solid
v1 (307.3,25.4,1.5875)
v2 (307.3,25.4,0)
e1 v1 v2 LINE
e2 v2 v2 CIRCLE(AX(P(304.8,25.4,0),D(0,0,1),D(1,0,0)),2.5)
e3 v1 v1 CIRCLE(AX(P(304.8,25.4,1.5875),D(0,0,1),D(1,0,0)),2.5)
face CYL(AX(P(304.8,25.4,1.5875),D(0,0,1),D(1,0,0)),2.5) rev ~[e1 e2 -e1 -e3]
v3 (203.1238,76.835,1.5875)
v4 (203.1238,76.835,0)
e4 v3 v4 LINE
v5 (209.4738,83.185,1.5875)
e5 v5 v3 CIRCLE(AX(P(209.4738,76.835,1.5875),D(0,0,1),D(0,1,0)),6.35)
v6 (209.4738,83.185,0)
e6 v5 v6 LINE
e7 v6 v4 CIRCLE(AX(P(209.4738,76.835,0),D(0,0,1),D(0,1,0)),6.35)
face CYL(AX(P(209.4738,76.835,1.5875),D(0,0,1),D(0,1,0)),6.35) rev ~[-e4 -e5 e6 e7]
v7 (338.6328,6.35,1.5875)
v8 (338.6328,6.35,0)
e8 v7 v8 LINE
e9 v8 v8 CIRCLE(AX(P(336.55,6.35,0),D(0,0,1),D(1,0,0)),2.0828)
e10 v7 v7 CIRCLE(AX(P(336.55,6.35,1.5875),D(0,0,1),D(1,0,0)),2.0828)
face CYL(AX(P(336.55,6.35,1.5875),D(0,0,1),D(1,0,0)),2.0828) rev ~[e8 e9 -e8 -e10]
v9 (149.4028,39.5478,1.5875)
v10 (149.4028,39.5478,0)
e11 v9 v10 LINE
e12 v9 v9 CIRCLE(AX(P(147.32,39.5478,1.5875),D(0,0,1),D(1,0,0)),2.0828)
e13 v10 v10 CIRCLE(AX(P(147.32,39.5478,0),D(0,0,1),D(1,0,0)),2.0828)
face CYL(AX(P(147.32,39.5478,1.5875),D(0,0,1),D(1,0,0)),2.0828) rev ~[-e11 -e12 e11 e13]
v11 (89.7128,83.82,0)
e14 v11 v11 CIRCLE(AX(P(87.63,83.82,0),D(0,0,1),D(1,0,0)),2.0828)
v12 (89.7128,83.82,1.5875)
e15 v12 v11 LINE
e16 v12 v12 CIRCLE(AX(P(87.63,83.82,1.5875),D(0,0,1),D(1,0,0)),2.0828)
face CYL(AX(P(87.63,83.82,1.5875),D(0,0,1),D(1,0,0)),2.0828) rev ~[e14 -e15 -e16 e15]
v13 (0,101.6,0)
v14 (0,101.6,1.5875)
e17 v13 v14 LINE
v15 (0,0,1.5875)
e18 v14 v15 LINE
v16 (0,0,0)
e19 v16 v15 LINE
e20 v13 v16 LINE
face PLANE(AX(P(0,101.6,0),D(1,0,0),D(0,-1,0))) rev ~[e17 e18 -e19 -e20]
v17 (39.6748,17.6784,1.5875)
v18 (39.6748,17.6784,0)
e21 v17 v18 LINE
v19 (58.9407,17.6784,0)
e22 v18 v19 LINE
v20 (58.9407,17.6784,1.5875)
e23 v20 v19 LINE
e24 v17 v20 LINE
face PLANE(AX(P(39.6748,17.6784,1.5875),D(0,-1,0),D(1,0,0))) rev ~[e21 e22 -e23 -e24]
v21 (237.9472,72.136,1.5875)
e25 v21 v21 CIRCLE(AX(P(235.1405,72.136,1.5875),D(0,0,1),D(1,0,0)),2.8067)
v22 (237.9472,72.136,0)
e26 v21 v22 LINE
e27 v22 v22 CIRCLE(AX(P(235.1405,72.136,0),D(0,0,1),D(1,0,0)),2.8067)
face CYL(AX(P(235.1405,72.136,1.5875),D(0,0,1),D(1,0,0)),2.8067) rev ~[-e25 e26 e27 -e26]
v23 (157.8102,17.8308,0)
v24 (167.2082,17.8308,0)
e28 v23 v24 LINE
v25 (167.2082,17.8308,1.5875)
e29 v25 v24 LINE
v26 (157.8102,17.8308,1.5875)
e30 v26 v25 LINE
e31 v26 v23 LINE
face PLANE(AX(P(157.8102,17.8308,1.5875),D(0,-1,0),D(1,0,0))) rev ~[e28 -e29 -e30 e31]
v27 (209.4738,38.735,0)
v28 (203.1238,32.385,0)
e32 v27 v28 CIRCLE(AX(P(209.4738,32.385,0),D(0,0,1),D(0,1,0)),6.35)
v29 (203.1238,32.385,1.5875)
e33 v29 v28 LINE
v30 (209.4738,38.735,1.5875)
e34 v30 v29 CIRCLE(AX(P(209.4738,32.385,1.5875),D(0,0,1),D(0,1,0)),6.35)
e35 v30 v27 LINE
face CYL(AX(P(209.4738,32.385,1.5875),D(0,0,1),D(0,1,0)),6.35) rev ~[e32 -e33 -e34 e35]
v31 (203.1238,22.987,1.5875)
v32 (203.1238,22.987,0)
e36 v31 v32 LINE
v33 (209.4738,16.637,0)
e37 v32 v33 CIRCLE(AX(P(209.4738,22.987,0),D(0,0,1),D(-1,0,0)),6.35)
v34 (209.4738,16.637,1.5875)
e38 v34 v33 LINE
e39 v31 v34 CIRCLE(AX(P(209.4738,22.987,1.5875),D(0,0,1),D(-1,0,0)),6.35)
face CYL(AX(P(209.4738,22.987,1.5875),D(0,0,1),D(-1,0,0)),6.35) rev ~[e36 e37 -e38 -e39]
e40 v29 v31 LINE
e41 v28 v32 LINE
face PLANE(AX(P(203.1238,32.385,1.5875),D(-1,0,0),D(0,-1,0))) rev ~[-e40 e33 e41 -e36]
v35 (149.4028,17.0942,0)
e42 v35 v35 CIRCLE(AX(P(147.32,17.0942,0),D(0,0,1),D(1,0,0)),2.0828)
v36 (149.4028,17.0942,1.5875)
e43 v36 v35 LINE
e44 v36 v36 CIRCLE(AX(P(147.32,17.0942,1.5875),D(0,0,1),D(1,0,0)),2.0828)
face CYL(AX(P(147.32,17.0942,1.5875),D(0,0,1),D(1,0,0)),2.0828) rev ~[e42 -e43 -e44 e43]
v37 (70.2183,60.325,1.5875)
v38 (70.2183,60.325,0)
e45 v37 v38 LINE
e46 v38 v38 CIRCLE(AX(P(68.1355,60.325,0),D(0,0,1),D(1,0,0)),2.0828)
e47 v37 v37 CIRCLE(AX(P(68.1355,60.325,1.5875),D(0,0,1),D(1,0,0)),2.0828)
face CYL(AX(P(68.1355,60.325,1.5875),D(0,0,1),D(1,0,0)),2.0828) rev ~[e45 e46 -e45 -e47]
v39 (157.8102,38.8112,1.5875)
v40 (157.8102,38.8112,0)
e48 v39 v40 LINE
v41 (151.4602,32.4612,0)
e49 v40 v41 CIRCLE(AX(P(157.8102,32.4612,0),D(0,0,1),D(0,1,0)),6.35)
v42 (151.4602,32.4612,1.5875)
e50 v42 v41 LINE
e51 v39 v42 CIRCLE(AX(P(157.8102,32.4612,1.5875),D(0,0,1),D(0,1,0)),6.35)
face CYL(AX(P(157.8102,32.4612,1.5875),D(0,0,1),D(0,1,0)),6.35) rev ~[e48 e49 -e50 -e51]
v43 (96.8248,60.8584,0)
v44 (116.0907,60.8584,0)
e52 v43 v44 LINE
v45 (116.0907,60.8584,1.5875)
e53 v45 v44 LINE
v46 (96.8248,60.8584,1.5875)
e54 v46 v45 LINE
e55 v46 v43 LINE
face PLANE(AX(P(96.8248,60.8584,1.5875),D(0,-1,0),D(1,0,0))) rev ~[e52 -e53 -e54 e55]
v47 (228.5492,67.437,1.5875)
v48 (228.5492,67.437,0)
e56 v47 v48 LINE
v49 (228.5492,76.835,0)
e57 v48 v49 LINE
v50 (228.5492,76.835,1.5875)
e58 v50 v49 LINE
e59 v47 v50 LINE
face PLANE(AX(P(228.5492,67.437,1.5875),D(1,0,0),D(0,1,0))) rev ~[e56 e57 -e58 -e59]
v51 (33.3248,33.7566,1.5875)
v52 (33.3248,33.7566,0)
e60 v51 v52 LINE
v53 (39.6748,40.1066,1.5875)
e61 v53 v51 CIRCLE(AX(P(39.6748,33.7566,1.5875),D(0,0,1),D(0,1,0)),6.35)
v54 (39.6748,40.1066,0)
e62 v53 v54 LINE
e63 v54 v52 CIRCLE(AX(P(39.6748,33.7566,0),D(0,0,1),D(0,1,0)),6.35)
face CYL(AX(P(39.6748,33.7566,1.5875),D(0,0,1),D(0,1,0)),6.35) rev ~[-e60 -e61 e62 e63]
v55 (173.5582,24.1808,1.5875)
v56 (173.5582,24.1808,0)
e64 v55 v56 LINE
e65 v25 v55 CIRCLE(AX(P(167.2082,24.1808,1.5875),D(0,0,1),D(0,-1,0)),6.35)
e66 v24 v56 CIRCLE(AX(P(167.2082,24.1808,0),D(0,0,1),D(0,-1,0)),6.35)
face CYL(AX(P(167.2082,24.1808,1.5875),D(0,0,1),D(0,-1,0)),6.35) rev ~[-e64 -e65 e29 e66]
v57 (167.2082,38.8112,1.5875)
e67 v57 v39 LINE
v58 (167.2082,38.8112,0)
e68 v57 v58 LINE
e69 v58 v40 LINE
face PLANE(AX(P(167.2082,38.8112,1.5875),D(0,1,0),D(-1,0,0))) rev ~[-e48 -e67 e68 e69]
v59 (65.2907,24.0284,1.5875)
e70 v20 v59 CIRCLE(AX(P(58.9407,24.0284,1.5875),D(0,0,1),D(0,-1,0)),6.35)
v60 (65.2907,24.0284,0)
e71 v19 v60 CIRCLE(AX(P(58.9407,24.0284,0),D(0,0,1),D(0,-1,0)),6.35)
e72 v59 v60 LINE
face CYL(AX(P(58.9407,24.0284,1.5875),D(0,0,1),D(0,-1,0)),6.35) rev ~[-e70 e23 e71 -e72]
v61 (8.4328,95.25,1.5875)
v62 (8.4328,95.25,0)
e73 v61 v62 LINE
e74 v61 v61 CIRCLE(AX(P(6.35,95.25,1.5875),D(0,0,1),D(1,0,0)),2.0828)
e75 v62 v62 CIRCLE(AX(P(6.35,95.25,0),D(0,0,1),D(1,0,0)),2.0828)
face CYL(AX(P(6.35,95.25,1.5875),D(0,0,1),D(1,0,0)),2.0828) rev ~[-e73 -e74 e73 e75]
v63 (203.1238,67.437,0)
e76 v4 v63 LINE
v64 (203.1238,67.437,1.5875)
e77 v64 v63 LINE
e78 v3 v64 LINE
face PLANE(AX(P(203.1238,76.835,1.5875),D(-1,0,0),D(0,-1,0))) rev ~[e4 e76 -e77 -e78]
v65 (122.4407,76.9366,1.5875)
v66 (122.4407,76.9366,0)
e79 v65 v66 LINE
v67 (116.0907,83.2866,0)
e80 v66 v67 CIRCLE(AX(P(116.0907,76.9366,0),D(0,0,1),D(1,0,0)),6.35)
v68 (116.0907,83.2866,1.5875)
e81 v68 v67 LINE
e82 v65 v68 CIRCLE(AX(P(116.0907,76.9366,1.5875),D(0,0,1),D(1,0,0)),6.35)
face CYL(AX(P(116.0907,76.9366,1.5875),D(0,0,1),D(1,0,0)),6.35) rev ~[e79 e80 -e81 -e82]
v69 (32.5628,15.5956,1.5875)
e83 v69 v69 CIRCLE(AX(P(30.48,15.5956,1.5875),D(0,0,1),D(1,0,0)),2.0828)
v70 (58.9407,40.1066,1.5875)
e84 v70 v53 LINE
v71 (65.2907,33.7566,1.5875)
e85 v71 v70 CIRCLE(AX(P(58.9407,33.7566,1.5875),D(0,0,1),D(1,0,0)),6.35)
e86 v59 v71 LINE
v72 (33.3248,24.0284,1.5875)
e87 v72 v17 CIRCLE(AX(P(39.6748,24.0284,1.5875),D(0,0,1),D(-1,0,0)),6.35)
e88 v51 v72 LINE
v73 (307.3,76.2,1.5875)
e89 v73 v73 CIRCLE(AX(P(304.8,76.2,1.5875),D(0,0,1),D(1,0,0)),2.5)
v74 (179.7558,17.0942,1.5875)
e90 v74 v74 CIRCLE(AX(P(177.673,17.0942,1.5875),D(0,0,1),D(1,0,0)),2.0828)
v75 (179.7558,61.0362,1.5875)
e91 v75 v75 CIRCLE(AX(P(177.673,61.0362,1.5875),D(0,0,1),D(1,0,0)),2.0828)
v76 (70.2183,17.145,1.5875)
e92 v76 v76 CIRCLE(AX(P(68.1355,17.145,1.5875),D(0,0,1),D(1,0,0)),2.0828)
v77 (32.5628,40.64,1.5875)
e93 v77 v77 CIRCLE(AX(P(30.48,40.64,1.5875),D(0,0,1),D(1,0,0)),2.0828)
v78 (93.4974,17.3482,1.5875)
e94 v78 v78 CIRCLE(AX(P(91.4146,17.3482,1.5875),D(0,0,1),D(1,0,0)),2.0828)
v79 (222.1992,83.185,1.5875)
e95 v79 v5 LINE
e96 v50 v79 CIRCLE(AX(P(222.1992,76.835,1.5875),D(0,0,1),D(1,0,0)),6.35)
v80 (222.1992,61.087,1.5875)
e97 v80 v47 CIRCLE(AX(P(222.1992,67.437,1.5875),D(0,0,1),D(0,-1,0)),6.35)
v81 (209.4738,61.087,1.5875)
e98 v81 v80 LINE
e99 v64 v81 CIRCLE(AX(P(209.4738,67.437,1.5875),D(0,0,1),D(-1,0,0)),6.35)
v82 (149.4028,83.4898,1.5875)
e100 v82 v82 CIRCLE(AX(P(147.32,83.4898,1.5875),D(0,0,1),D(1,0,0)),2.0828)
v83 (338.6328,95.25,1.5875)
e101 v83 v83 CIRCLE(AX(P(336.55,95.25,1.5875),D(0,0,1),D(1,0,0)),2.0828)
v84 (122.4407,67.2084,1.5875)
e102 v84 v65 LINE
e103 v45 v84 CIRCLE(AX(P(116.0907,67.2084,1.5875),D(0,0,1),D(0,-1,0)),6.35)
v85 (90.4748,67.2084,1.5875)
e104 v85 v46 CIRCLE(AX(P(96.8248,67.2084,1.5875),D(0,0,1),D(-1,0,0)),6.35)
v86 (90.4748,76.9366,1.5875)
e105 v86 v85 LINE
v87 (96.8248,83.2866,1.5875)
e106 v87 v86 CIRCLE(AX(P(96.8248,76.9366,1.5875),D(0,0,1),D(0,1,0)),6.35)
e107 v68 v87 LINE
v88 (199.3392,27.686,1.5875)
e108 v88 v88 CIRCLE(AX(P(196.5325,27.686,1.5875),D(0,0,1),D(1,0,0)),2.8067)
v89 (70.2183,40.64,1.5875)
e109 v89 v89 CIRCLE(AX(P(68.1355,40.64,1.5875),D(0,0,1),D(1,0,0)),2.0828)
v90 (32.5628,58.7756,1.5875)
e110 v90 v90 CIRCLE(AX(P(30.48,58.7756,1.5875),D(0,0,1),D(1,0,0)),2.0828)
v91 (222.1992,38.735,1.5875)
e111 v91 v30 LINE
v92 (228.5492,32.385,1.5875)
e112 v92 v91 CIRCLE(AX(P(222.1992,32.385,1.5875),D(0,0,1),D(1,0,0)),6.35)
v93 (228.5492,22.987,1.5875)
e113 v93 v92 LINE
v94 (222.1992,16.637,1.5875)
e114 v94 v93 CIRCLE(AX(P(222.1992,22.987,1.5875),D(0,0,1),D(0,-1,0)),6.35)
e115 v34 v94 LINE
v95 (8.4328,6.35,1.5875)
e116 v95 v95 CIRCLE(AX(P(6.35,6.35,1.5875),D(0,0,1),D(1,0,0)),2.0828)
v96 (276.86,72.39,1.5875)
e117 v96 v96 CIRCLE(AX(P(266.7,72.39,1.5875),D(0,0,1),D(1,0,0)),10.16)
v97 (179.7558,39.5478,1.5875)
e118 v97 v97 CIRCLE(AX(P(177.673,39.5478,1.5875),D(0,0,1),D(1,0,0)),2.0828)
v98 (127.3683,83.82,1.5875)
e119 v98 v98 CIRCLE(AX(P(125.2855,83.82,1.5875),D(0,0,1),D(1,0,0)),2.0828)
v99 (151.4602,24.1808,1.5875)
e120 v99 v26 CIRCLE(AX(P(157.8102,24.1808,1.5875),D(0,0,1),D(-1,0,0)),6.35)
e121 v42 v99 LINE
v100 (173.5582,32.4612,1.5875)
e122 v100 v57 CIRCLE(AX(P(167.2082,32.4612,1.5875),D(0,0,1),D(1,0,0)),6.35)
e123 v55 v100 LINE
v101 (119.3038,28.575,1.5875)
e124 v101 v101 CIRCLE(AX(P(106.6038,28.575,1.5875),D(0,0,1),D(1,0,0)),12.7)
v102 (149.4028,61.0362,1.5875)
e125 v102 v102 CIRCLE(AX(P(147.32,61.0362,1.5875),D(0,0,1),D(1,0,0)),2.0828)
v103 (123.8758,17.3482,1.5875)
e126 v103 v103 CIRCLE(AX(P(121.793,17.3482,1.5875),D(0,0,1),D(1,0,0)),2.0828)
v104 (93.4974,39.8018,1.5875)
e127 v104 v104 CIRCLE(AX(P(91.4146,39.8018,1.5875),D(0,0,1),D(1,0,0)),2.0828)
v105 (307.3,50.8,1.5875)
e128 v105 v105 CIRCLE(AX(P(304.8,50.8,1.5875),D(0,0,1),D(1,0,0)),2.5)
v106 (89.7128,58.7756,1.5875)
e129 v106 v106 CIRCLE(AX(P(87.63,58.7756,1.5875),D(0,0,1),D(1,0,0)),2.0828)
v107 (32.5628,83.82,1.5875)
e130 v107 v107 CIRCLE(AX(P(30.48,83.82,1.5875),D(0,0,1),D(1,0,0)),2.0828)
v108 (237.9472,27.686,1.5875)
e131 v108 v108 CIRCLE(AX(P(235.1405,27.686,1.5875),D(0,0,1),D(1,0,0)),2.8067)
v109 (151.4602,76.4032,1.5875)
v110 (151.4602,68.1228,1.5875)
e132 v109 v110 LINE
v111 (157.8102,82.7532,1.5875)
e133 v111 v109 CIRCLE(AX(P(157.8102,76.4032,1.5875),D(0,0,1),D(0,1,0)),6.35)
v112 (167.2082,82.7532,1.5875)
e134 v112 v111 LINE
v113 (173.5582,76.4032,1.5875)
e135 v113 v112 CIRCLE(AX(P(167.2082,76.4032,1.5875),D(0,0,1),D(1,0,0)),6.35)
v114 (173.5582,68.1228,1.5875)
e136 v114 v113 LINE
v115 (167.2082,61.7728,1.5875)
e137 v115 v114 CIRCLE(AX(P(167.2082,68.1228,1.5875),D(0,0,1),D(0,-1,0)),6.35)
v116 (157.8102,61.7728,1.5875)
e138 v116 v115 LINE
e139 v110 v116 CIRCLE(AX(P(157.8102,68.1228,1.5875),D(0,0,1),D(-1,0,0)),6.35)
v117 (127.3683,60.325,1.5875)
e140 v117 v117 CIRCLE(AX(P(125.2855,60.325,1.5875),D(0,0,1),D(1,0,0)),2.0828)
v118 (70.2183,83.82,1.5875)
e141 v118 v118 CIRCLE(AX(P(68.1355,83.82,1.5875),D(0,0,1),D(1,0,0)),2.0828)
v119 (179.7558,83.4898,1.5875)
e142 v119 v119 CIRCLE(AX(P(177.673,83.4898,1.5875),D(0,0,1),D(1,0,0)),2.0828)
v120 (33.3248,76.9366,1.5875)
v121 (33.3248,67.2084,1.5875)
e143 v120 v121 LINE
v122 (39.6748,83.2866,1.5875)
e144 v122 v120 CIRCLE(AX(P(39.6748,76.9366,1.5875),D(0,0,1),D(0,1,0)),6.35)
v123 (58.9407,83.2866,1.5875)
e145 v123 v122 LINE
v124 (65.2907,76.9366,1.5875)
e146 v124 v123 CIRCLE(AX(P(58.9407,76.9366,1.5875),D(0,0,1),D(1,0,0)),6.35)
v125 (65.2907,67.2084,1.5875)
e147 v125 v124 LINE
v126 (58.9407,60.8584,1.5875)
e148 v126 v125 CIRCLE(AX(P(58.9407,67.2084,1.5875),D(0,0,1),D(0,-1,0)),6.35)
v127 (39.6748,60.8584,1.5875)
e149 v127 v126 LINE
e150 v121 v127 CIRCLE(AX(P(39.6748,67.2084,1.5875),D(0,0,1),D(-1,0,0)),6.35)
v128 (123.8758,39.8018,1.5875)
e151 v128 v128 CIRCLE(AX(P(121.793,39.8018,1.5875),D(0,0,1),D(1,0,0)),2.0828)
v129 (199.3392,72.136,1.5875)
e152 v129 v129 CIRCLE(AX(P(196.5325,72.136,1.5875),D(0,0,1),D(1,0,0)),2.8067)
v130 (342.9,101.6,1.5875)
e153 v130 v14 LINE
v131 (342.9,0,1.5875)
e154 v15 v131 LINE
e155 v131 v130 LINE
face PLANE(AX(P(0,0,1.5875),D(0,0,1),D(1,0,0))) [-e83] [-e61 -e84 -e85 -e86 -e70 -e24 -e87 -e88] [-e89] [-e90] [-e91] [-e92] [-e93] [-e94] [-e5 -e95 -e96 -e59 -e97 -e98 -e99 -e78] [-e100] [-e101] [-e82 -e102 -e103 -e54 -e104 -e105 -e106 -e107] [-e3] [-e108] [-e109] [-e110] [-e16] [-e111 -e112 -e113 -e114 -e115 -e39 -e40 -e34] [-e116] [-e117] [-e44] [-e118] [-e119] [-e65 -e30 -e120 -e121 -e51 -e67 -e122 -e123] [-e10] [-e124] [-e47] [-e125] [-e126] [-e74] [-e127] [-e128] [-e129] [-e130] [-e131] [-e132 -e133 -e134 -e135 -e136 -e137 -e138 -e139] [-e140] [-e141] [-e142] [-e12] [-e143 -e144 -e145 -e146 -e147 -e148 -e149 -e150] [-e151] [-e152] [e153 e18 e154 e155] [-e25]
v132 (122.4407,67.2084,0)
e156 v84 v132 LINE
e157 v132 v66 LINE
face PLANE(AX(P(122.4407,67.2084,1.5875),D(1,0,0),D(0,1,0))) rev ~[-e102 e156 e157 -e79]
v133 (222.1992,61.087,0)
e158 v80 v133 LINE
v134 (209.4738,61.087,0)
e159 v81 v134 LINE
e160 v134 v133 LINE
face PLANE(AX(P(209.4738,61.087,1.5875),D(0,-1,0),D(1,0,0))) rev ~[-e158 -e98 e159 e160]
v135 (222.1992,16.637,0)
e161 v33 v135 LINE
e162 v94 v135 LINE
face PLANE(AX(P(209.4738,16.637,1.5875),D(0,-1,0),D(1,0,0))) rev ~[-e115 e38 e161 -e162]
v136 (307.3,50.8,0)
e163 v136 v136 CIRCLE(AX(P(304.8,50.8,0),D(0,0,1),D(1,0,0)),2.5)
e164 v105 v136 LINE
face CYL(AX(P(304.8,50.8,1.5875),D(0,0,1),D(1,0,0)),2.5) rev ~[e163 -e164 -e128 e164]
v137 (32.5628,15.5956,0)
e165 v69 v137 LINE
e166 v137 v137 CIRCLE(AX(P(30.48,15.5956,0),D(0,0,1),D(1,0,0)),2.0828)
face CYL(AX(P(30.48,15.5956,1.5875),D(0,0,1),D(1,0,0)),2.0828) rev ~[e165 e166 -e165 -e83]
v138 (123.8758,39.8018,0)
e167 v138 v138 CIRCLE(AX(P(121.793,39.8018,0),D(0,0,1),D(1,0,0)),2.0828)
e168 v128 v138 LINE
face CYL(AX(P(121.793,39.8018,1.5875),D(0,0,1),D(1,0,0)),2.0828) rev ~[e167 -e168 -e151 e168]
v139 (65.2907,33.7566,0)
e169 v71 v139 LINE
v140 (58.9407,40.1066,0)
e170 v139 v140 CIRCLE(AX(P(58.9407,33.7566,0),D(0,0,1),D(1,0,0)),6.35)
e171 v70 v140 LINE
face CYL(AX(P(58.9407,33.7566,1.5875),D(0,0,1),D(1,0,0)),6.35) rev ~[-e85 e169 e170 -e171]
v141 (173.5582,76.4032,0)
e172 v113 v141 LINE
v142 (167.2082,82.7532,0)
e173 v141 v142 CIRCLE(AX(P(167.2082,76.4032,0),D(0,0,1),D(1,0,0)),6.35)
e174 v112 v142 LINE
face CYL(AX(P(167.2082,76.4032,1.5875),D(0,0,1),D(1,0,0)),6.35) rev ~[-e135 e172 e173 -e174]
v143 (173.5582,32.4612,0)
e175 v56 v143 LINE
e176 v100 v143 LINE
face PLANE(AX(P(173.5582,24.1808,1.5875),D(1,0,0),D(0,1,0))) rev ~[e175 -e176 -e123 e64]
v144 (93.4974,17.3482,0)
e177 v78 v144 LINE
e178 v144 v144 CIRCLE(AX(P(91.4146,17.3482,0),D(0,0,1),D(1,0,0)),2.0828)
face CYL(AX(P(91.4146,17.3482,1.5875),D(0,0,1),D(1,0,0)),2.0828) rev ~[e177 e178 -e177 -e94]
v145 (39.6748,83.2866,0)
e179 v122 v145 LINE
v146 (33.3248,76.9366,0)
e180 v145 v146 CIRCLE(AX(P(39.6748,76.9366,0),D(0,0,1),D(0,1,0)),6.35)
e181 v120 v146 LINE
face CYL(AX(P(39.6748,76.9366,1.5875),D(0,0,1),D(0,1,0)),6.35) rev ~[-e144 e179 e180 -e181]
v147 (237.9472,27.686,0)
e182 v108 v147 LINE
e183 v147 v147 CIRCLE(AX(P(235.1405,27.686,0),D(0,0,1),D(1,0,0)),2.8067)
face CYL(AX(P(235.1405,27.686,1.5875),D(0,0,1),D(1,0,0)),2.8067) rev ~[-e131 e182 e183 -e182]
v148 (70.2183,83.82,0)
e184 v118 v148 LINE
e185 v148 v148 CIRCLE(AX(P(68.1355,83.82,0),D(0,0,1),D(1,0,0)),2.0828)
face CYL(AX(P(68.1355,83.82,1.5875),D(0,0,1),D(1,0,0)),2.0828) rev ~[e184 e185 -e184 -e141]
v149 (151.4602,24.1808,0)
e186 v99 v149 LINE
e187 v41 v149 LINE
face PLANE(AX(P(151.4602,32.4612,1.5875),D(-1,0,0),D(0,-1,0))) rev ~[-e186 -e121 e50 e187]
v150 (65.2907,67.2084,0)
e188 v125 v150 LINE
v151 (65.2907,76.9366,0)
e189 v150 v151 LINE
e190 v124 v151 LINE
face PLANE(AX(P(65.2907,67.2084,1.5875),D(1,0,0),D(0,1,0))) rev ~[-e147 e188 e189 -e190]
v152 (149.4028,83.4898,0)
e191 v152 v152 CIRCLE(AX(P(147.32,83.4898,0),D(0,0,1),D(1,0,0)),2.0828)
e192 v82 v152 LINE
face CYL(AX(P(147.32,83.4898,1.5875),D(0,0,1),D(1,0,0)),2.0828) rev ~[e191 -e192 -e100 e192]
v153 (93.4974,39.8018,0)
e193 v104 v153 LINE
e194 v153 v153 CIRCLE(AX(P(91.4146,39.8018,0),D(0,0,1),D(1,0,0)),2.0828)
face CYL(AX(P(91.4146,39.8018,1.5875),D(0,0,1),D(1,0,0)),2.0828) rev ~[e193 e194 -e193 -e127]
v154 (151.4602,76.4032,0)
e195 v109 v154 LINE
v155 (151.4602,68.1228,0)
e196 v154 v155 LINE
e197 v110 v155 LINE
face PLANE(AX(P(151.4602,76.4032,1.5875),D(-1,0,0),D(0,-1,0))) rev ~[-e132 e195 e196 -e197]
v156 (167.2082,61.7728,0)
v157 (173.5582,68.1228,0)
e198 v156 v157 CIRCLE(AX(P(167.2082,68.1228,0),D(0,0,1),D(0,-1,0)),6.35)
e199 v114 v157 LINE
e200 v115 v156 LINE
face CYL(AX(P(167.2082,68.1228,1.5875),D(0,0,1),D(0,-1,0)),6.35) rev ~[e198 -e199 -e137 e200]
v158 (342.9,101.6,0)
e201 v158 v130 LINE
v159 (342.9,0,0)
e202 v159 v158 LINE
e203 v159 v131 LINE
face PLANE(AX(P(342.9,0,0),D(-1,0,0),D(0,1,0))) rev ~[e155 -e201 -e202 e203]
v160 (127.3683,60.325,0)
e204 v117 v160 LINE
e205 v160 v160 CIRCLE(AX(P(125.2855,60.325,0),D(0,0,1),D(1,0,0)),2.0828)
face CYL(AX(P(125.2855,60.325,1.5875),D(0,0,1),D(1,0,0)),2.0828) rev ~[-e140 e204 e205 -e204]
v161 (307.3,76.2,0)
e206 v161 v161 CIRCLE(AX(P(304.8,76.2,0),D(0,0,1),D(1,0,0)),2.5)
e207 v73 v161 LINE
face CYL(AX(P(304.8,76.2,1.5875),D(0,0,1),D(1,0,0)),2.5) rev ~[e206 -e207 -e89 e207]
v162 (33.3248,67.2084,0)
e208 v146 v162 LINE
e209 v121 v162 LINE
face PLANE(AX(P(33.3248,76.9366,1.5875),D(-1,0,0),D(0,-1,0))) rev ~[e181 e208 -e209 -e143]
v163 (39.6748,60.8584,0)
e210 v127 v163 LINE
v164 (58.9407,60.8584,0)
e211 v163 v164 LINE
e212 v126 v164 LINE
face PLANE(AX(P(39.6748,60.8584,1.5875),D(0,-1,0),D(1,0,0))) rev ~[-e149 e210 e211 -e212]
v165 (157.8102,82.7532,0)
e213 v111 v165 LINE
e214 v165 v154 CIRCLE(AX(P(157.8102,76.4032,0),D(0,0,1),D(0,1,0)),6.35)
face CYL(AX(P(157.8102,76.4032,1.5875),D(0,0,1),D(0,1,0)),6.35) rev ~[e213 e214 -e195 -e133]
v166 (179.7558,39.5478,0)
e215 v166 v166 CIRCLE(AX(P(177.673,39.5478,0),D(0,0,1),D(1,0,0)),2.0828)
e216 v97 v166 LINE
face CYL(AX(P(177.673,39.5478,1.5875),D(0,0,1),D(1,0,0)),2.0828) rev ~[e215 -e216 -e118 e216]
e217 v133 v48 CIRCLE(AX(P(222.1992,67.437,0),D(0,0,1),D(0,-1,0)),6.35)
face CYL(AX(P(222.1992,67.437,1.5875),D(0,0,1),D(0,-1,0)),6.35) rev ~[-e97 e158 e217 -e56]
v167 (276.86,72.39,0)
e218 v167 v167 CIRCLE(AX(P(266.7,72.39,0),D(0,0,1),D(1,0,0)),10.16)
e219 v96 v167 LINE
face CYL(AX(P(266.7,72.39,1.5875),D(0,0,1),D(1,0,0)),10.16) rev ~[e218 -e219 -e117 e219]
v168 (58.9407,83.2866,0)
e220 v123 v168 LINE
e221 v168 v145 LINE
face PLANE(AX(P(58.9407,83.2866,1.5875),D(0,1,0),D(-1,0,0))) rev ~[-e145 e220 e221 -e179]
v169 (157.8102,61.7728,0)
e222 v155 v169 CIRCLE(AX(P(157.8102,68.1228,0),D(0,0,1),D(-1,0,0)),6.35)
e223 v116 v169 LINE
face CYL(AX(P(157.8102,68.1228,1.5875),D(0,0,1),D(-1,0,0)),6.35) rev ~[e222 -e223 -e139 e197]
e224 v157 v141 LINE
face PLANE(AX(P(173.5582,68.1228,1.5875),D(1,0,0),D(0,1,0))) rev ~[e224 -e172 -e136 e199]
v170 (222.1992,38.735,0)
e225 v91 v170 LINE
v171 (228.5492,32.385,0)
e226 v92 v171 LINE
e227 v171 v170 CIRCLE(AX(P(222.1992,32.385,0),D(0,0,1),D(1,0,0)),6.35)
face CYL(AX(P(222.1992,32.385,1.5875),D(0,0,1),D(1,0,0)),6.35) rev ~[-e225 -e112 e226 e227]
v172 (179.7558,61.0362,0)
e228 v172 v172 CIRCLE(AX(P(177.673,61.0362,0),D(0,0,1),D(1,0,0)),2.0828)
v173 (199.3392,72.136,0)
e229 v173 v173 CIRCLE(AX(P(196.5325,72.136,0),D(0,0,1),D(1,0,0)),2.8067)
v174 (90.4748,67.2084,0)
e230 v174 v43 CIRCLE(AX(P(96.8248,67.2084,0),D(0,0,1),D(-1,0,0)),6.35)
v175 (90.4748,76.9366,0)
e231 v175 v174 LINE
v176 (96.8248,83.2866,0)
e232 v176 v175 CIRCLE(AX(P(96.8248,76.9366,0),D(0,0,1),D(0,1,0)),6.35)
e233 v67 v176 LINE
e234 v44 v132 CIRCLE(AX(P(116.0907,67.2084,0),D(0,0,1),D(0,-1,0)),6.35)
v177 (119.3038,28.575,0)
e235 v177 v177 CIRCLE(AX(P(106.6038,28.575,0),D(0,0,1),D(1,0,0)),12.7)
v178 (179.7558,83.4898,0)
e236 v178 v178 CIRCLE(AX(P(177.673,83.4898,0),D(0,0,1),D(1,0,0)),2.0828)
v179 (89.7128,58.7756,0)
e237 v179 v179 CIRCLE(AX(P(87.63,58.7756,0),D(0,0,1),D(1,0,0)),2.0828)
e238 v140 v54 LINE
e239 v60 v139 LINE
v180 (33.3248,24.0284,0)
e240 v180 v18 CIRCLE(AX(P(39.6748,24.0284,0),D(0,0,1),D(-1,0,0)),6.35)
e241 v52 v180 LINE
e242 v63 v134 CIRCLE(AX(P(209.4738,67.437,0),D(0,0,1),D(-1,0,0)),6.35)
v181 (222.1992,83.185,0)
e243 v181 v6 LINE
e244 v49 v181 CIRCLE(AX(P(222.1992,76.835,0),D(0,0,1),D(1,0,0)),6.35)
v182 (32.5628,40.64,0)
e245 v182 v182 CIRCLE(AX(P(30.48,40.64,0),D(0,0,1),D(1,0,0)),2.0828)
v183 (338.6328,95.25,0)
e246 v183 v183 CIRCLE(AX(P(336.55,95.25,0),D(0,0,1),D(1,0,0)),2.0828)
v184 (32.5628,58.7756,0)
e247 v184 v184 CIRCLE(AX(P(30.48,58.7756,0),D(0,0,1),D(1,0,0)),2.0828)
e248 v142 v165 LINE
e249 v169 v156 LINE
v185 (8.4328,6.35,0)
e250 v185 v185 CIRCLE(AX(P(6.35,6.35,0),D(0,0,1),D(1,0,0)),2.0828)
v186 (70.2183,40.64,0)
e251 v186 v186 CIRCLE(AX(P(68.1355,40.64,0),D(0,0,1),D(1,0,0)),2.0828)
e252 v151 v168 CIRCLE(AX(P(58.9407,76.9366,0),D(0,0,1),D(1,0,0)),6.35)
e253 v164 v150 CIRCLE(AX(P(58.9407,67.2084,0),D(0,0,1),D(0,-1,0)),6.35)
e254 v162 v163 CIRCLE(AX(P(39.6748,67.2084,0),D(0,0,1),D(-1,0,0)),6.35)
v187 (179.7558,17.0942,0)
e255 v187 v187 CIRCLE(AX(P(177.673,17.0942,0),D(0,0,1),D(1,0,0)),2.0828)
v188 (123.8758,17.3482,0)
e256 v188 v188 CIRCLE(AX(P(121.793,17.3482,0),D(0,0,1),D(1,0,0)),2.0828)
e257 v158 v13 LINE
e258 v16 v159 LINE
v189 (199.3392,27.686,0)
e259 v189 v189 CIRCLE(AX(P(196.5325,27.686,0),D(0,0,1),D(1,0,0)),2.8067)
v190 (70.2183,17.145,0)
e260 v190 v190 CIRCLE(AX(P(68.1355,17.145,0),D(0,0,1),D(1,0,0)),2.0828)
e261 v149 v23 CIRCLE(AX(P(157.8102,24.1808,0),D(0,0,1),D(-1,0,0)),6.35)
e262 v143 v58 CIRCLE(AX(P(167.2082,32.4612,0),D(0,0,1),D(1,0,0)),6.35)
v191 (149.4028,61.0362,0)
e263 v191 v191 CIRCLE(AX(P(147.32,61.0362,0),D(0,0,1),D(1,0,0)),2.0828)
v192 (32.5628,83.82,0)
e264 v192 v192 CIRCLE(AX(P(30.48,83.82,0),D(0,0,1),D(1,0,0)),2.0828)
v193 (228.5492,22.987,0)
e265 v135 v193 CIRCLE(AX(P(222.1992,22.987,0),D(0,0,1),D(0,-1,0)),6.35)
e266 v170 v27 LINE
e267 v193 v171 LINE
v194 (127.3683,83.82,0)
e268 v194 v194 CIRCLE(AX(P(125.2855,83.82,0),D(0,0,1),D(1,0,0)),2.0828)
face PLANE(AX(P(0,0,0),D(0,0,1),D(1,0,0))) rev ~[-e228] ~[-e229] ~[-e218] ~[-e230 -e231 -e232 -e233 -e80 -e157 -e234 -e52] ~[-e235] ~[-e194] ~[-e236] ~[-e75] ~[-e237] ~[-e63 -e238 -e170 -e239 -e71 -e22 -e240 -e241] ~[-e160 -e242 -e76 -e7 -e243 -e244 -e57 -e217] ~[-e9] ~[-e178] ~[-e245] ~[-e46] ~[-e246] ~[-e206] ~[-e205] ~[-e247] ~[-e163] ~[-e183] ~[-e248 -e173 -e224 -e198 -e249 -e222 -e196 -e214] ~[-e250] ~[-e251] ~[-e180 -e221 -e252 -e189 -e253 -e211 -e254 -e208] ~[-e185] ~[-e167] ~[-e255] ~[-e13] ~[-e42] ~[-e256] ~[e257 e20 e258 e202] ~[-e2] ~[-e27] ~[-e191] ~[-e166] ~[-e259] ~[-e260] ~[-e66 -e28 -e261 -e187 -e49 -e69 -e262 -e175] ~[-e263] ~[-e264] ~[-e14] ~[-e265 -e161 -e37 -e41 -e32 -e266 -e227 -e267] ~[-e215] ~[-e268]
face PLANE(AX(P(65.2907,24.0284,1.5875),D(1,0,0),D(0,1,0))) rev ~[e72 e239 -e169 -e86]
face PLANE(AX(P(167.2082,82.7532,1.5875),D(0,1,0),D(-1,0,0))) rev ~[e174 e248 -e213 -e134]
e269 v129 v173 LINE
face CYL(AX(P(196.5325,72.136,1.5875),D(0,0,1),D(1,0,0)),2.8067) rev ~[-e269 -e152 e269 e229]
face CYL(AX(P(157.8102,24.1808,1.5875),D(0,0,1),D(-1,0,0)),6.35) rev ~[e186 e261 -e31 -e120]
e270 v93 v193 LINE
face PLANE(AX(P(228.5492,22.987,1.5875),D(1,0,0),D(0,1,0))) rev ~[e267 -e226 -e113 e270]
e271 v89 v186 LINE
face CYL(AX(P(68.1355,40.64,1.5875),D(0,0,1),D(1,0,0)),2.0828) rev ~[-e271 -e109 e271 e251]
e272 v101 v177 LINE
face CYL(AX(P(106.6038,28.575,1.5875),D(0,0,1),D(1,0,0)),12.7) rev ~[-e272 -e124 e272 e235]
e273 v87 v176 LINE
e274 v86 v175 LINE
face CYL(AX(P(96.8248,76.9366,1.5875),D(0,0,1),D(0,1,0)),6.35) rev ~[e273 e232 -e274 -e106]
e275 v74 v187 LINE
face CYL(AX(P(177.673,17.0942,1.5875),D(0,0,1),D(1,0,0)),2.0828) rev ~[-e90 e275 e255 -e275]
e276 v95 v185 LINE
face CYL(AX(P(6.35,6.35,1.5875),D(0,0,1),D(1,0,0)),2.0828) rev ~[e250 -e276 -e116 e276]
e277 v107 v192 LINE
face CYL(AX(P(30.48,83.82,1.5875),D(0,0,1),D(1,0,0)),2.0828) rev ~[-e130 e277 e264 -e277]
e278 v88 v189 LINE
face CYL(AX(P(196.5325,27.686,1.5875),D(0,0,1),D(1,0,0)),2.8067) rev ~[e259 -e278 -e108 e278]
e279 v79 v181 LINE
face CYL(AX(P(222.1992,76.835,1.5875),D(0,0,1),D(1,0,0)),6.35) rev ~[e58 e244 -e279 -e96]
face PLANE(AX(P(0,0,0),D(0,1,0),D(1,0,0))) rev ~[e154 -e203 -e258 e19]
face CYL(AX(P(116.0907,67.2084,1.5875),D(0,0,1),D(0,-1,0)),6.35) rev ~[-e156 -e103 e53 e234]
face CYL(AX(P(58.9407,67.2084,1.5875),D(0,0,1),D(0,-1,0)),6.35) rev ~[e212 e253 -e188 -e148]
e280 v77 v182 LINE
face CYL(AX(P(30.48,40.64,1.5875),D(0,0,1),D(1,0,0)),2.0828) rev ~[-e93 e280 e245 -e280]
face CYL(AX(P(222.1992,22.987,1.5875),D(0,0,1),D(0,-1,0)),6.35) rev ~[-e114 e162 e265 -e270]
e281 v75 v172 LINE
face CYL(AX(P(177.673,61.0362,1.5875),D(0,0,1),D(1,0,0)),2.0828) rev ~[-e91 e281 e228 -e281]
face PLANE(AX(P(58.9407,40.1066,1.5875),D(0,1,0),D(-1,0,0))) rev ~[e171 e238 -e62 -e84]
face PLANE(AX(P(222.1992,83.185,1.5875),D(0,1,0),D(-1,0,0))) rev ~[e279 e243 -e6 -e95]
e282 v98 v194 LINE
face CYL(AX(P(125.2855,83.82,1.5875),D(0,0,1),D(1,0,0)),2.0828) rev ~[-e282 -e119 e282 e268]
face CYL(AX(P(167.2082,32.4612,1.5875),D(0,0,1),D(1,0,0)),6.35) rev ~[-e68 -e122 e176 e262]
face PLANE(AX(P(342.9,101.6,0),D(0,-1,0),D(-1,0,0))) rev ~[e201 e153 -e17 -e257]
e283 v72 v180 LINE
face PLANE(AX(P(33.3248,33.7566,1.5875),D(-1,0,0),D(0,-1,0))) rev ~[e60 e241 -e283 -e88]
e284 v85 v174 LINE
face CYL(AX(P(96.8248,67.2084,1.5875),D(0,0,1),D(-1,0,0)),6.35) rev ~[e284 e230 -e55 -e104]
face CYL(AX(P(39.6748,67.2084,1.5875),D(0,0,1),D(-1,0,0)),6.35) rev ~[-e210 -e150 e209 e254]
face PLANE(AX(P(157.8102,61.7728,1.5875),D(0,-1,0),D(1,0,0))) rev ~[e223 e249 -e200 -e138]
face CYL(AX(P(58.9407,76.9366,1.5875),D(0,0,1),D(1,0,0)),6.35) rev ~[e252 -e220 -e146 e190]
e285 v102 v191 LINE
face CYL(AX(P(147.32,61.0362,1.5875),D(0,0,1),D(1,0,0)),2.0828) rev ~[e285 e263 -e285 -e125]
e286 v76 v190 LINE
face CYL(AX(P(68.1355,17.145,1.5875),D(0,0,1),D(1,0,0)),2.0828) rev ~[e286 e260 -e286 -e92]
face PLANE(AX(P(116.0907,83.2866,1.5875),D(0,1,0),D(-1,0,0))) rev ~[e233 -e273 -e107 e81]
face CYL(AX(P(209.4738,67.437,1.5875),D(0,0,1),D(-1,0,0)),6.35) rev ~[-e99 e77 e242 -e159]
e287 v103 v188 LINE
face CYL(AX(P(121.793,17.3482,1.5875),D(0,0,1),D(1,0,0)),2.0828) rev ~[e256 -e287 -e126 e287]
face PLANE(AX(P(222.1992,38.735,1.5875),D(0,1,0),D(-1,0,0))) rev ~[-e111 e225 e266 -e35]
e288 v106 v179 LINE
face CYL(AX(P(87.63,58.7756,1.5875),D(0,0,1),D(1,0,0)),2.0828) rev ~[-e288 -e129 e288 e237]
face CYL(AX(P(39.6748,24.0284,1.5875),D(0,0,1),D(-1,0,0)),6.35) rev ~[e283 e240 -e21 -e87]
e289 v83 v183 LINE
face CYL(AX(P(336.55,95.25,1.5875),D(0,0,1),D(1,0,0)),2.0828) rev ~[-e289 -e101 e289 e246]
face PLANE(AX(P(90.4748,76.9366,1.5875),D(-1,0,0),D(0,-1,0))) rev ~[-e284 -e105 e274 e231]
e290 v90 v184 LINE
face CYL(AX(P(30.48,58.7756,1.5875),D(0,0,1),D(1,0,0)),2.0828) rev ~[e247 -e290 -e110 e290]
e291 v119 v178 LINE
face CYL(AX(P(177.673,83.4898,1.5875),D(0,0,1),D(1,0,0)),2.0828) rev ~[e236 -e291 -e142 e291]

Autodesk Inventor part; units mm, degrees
ref_plane "YZ Plane" through (0, 0, 0) normal (1, 0, 0) x (0, 1, 0)
ref_plane "XZ Plane" through (0, 0, 0) normal (0, 1, 0) x (-1, 0, 0)
ref_plane "XY Plane" through (0, 0, 0) normal (0, 0, 1) x (1, 0, 0)
sketch "Sketch1" plane through (0, 0, 0) normal (0, 0, 1) x (1, 0, 0)
  line L0 (0, 0) -> (342.9, 0)
  line L1 (342.9, 0) -> (342.9, 101.6)
  line L2 (342.9, 101.6) -> (0, 101.6)
  line L3 (0, 101.6) -> (0, 0)
  dimension "d0" = 101.6
  dimension "d1" = 342.9
extrude "Extrusion1" add sketch "Sketch1" along normal blind 1.5875
sketch "Sketch2" plane through (0, 0, 1.5875) normal (0, 0, 1) x (1, 0, 0)
  line L0 (25.4, 55.245) -> (73.2155, 55.245)
  line L1 (73.2155, 55.245) -> (73.2155, 88.9)
  line L2 (73.2155, 88.9) -> (25.4, 88.9)
  line L3 (25.4, 88.9) -> (25.4, 55.245)
  line L4 (39.6748, 60.8584) -> (58.9407, 60.8584)
  line L5 (65.2907, 67.2084) -> (65.2907, 76.9366)
  line L6 (58.9407, 83.2866) -> (39.6748, 83.2866)
  line L7 (33.3248, 76.9366) -> (33.3248, 67.2084)
  line L8 (0, 101.6) -> (0, 0) projected
  line L9 (342.9, 101.6) -> (0, 101.6) projected
  circle A0 centre (30.48, 83.82) radius 2.0828
  circle A1 centre (68.1355, 83.82) radius 2.0828
  circle A2 centre (68.1355, 60.325) radius 2.0828
  circle A3 centre (30.48, 58.7756) radius 2.0828
  arc A4 (39.6748, 83.2866) -> (33.3248, 76.9366) centre (39.6748, 76.9366) ccw
  arc A5 (33.3248, 67.2084) -> (39.6748, 60.8584) centre (39.6748, 67.2084) ccw
  arc A6 (58.9407, 60.8584) -> (65.2907, 67.2084) centre (58.9407, 67.2084) ccw
  arc A7 (65.2907, 76.9366) -> (58.9407, 83.2866) centre (58.9407, 76.9366) ccw
  point P0 (33.3248, 60.8584)
  point P1 (65.2907, 60.8584)
  point P2 (33.3248, 83.2866)
  dimension "d4" = 33.655
  dimension "d5" = 47.8155
  dimension "d6" = 22.4282
  dimension "d7" = 31.9659
  dimension "d8" = 7.9248
  dimension "d9" = 5.6134
  dimension "d10" = 25.4
  dimension "d11" = 12.7
  dimension "d12" = 4.1656
  dimension "d13" = 5.08
  dimension "d14" = 5.08
  dimension "d15" = 5.08
  dimension "d16" = 5.08
  dimension "d17" = 5.08
  dimension "d18" = 5.08
  dimension "d19" = 5.08
  dimension "d20" = 6.35
extrude "Extrusion2" cut sketch "Sketch2" against normal through all contours A5 L7 A4 L6 A7 L5 A6 L4 | A0 | A1 | A2 | A3
pattern_linear "Rectangular Pattern2" count 2 spacing 43.18 along (0, -1, 0) of "Extrusion2"
pattern_linear "Rectangular Pattern3" count 2 spacing 57.15 along (1, 0, 0) of "Extrusion2"
sketch "Sketch3" plane through (0, 0, 1.5875) normal (0, 0, 1) x (1, 0, 0)
  line L0 (0, 101.6) -> (0, 0) construction
  line L1 (342.9, 0) -> (342.9, 101.6) construction
  line L2 (342.9, 101.6) -> (0, 101.6) construction
  line L3 (44.45, 95.3581) -> (52.0207, 95.3581) construction
  line L4 (52.0207, 95.3581) -> (52.0207, 88.9) construction
  line L5 (52.0207, 88.9) -> (44.45, 88.9) construction
  line L6 (44.45, 88.9) -> (44.45, 95.3581) construction
  line L7 (101.6, 95.4713) -> (111.4069, 95.4713) construction
  line L8 (111.4069, 95.4713) -> (111.4069, 88.9) construction
  line L9 (111.4069, 88.9) -> (101.6, 88.9) construction
  line L10 (101.6, 88.9) -> (101.6, 95.4713) construction
  line L11 (44.45, 51.0091) -> (52.8287, 51.0091) construction
  line L12 (52.8287, 51.0091) -> (52.8287, 44.3915) construction
  line L13 (52.8287, 44.3915) -> (44.45, 44.3915) construction
  line L14 (44.45, 44.3915) -> (44.45, 51.0091) construction
  line L15 (101.6, 50.829) -> (109.3588, 50.829) construction
  line L16 (109.3588, 50.829) -> (109.3588, 44.3915) construction
  line L17 (109.3588, 44.3915) -> (101.6, 44.3915) construction
  line L18 (101.6, 44.3915) -> (101.6, 50.829) construction
  line L19 (158.75, 95.5021) -> (171.9813, 95.5021) construction
  line L20 (171.9813, 95.5021) -> (171.9813, 88.9) construction
  line L21 (171.9813, 88.9) -> (158.75, 88.9) construction
  line L22 (158.75, 88.9) -> (158.75, 95.5021) construction
  line L23 (158.75, 50.9937) -> (175.5906, 50.9937) construction
  line L24 (175.5906, 50.9937) -> (175.5906, 44.3915) construction
  line L25 (175.5906, 44.3915) -> (158.75, 44.3915) construction
  line L26 (158.75, 44.3915) -> (158.75, 50.9937) construction
  line L27 (212.09, 95.3375) -> (223.1557, 95.3375) construction
  line L28 (223.1557, 95.3375) -> (223.1557, 88.9) construction
  line L29 (223.1557, 88.9) -> (212.09, 88.9) construction
  line L30 (212.09, 88.9) -> (212.09, 95.3375) construction
  line L31 (212.09, 51.0297) -> (221.933, 51.0297) construction
  line L32 (221.933, 51.0297) -> (221.933, 44.3915) construction
  line L33 (221.933, 44.3915) -> (212.09, 44.3915) construction
  line L34 (212.09, 44.3915) -> (212.09, 51.0297) construction
sketch "Sketch4" plane through (0, 0, 1.5875) normal (0, 0, 1) x (1, 0, 0)
  line L0 (86.36, 12.7) -> (126.873, 12.7)
  line L1 (126.873, 12.7) -> (126.873, 44.45)
  line L2 (126.873, 44.45) -> (86.36, 44.45)
  line L3 (86.36, 44.45) -> (86.36, 12.7)
  circle A0 centre (91.4146, 39.8018) radius 2.0828
  circle A1 centre (121.793, 39.8018) radius 2.0828
  circle A2 centre (121.793, 17.3482) radius 2.0828
  circle A3 centre (91.4146, 17.3482) radius 2.0828
  circle A4 centre (106.6038, 28.575) radius 12.7
  circle A5 centre (87.63, 58.7756) radius 2.0828 projected
  circle A6 centre (125.2855, 83.82) radius 2.0828 projected
  circle A7 centre (87.63, 83.82) radius 2.0828 projected
  circle A8 centre (125.2855, 60.325) radius 2.0828 projected
  arc A9 (90.4748, 67.2084) -> (96.8248, 60.8584) centre (96.8248, 67.2084) ccw projected
  line L4 (90.4748, 67.2084) -> (90.4748, 76.9366) projected
  arc A10 (96.8248, 83.2866) -> (90.4748, 76.9366) centre (96.8248, 76.9366) ccw projected
  line L5 (96.8248, 83.2866) -> (116.0907, 83.2866) projected
  arc A11 (122.4407, 76.9366) -> (116.0907, 83.2866) centre (116.0907, 76.9366) ccw projected
  line L6 (122.4407, 76.9366) -> (122.4407, 67.2084) projected
  arc A12 (116.0907, 60.8584) -> (122.4407, 67.2084) centre (116.0907, 67.2084) ccw projected
  line L7 (116.0907, 60.8584) -> (96.8248, 60.8584) projected
  circle A13 centre (30.48, 15.5956) radius 2.0828 projected
  circle A14 centre (68.1355, 40.64) radius 2.0828 projected
  circle A15 centre (30.48, 40.64) radius 2.0828 projected
  circle A16 centre (68.1355, 17.145) radius 2.0828 projected
  arc A17 (33.3248, 24.0284) -> (39.6748, 17.6784) centre (39.6748, 24.0284) ccw projected
  line L8 (33.3248, 24.0284) -> (33.3248, 33.7566) projected
  arc A18 (39.6748, 40.1066) -> (33.3248, 33.7566) centre (39.6748, 33.7566) ccw projected
  line L9 (39.6748, 40.1066) -> (58.9407, 40.1066) projected
  arc A19 (65.2907, 33.7566) -> (58.9407, 40.1066) centre (58.9407, 33.7566) ccw projected
  line L10 (65.2907, 33.7566) -> (65.2907, 24.0284) projected
  arc A20 (58.9407, 17.6784) -> (65.2907, 24.0284) centre (58.9407, 24.0284) ccw projected
  line L11 (58.9407, 17.6784) -> (39.6748, 17.6784) projected
  circle A21 centre (30.48, 58.7756) radius 2.0828 projected
  circle A22 centre (68.1355, 83.82) radius 2.0828 projected
  circle A23 centre (30.48, 83.82) radius 2.0828 projected
  circle A24 centre (68.1355, 60.325) radius 2.0828 projected
  arc A25 (33.3248, 67.2084) -> (39.6748, 60.8584) centre (39.6748, 67.2084) ccw projected
  line L12 (33.3248, 67.2084) -> (33.3248, 76.9366) projected
  arc A26 (39.6748, 83.2866) -> (33.3248, 76.9366) centre (39.6748, 76.9366) ccw projected
  line L13 (39.6748, 83.2866) -> (58.9407, 83.2866) projected
  arc A27 (65.2907, 76.9366) -> (58.9407, 83.2866) centre (58.9407, 76.9366) ccw projected
  line L14 (65.2907, 76.9366) -> (65.2907, 67.2084) projected
  arc A28 (58.9407, 60.8584) -> (65.2907, 67.2084) centre (58.9407, 67.2084) ccw projected
  line L15 (58.9407, 60.8584) -> (39.6748, 60.8584) projected
  line L16 (0, 0) -> (342.9, 0) projected
  line L17 (342.9, 0) -> (342.9, 101.6) projected
  line L18 (342.9, 101.6) -> (0, 101.6) projected
  line L19 (0, 101.6) -> (0, 0) projected
  dimension "d53" = 40.513
  dimension "d54" = 31.75
  dimension "d55" = 4.1656
  dimension "d56" = 25.4
  dimension "d57" = 15.875
  dimension "d58" = 15.1892
  dimension "d59" = 15.1892
  dimension "d60" = 15.1892
  dimension "d61" = 15.1892
  dimension "d66" = 11.2268
  dimension "d67" = 11.2268
  dimension "d68" = 11.2268
  dimension "d69" = 11.2268
  dimension "d70" = 5.08
  dimension "d72" = 12.7
  dimension "d207" = 86.36
extrude "Extrusion3" cut sketch "Sketch4" against normal through all contours A0 | A1 | A2 | A3 | A4
sketch "Sketch5" plane through (0, 0, 1.5875) normal (0, 0, 1) x (1, 0, 0)
  line L0 (142.24, 56.388) -> (182.753, 56.388)
  line L1 (182.753, 56.388) -> (182.753, 88.138)
  line L2 (182.753, 88.138) -> (142.24, 88.138)
  line L3 (142.24, 88.138) -> (142.24, 56.388)
  line L4 (0, 101.6) -> (0, 0) projected
  line L5 (342.9, 101.6) -> (0, 101.6) projected
  circle A0 centre (147.32, 83.4898) radius 2.0828
  circle A1 centre (177.673, 83.4898) radius 2.0828
  circle A2 centre (177.673, 61.0362) radius 2.0828
  circle A3 centre (147.32, 61.0362) radius 2.0828
  line L6 (157.8102, 61.7728) -> (167.2082, 61.7728)
  line L7 (173.5582, 68.1228) -> (173.5582, 76.4032)
  line L8 (167.2082, 82.7532) -> (157.8102, 82.7532)
  line L9 (151.4602, 76.4032) -> (151.4602, 68.1228)
  arc A4 (157.8102, 82.7532) -> (151.4602, 76.4032) centre (157.8102, 76.4032) ccw
  arc A5 (151.4602, 68.1228) -> (157.8102, 61.7728) centre (157.8102, 68.1228) ccw
  arc A6 (167.2082, 61.7728) -> (173.5582, 68.1228) centre (167.2082, 68.1228) ccw
  arc A7 (173.5582, 76.4032) -> (167.2082, 82.7532) centre (167.2082, 76.4032) ccw
  point P0 (151.4602, 61.7728)
  point P1 (173.5582, 82.7532)
  point P2 (151.4602, 82.7532)
  dimension "d95" = 40.513
  dimension "d96" = 31.75
  dimension "d97" = 142.24
  dimension "d98" = 13.462
  dimension "d99" = 4.1656
  dimension "d100" = 5.08
  dimension "d101" = 5.08
  dimension "d102" = 5.08
  dimension "d103" = 5.08
  dimension "d104" = 22.098
  dimension "d105" = 20.9804
  dimension "d106" = 4.1402
  dimension "d107" = 0.7366
  dimension "d108" = 4.6482
  dimension "d109" = 4.6482
  dimension "d110" = 4.6482
  dimension "d111" = 4.6482
  dimension "d112" = 6.35
  dimension "d113" = 4.1148
extrude "Extrusion4" cut sketch "Sketch5" against normal through all contours A0 | A1 | A2 | A3 | A5 L9 A4 L8 A7 L7 A6 L6
pattern_linear "Rectangular Pattern4" count 2 spacing 43.942 along (0, -1, 0) of "Extrusion4"
sketch "Sketch6" plane through (0, 0, 1.5875) normal (0, 0, 1) x (1, 0, 0)
  line L0 (209.4738, 61.087) -> (222.1992, 61.087)
  line L1 (228.5492, 67.437) -> (228.5492, 76.835)
  line L2 (222.1992, 83.185) -> (209.4738, 83.185)
  line L3 (203.1238, 76.835) -> (203.1238, 67.437)
  arc A0 (203.1238, 67.437) -> (209.4738, 61.087) centre (209.4738, 67.437) ccw
  arc A1 (222.1992, 61.087) -> (228.5492, 67.437) centre (222.1992, 67.437) ccw
  arc A2 (228.5492, 76.835) -> (222.1992, 83.185) centre (222.1992, 76.835) ccw
  arc A3 (209.4738, 83.185) -> (203.1238, 76.835) centre (209.4738, 76.835) ccw
  circle A4 centre (196.5325, 72.136) radius 2.8067
  circle A5 centre (235.1405, 72.136) radius 2.8067
  line L4 (187.96, 56.642) -> (242.697, 56.642)
  line L5 (242.697, 56.642) -> (242.697, 87.63)
  line L6 (242.697, 87.63) -> (187.96, 87.63)
  line L7 (187.96, 87.63) -> (187.96, 56.642)
  line L8 (342.9, 101.6) -> (0, 101.6) projected
  line L9 (0, 101.6) -> (0, 0) projected
  dimension "d121" = 6.35
  dimension "d122" = 25.4254
  dimension "d123" = 22.098
  dimension "d124" = 5.6134
  dimension "d125" = 5.6134
  dimension "d126" = 6.5913
  dimension "d127" = 6.5913
  dimension "d128" = 11.049
  dimension "d129" = 11.049
  dimension "d130" = 54.737
  dimension "d131" = 30.988
  dimension "d132" = 15.494
  dimension "d133" = 14.1478
  dimension "d134" = 13.97
  dimension "d135" = 187.96
extrude "Extrusion5" cut sketch "Sketch6" against normal through all contours A0 L3 A3 L2 A2 L1 A1 L0 | A4 | A5
pattern_linear "Rectangular Pattern5" count 2 spacing 44.45 along (0, -1, 0) of "Extrusion5"
sketch "Sketch7" plane through (0, 0, 1.5875) normal (0, 0, 1) x (1, 0, 0)
  circle A0 centre (304.8, 50.8) radius 2.5
  circle A1 centre (304.8, 76.2) radius 2.5
  circle A2 centre (304.8, 25.4) radius 2.5
  line L0 (342.9, 0) -> (342.9, 101.6) projected
  line L1 (342.9, 101.6) -> (0, 101.6) projected
  point P0 (0, 0)
  dimension "d143" = 5
  dimension "d144" = 38.1
  dimension "d145" = 38.1
  dimension "d146" = 38.1
  dimension "d147" = 50.8
  dimension "d148" = 25.4
  dimension "d149" = 76.2
extrude "Extrusion6" cut sketch "Sketch7" against normal through all
sketch "Sketch8" plane through (0, 0, 1.5875) normal (0, 0, 1) x (1, 0, 0)
  circle A0 centre (266.7, 72.39) radius 10.16
  line L0 (0, 0) -> (342.9, 0) projected
  line L1 (342.9, 101.6) -> (0, 101.6) projected
  line L2 (342.9, 0) -> (342.9, 101.6) projected
  dimension "d152" = 20.32
  dimension "d153" = 101.6
  dimension "d154" = 29.21
  dimension "d155" = 76.2
extrude "Extrusion7" cut sketch "Sketch8" against normal through all
sketch "Sketch9" plane through (0, 0, 1.5875) normal (0, 0, 1) x (1, 0, 0)
  line L0 (248.92, 92.7572) -> (288.1264, 92.7572) construction
  line L1 (288.1264, 92.7572) -> (288.1264, 82.2059) construction
  line L2 (288.1264, 82.2059) -> (248.92, 82.2059) construction
  line L3 (248.92, 82.2059) -> (248.92, 92.7572) construction
  line L4 (298.45, 92.7572) -> (320.5737, 92.7572) construction
  line L5 (320.5737, 92.7572) -> (320.5737, 83.6558) construction
  line L6 (320.5737, 83.6558) -> (298.45, 83.6558) construction
  line L7 (298.45, 83.6558) -> (298.45, 92.7572) construction
  line L8 (298.45, 63.5) -> (318.5753, 63.5) construction
  line L9 (318.5753, 63.5) -> (318.5753, 55.7178) construction
  line L10 (318.5753, 55.7178) -> (298.45, 55.7178) construction
  line L11 (298.45, 55.7178) -> (298.45, 63.5) construction
  line L12 (298.45, 38.1) -> (316.0334, 38.1) construction
  line L13 (316.0334, 38.1) -> (316.0334, 29.1139) construction
  line L14 (316.0334, 29.1139) -> (298.45, 29.1139) construction
  line L15 (298.45, 29.1139) -> (298.45, 38.1) construction
  line L16 (342.9, 0) -> (342.9, 101.6) projected
  line L17 (342.9, 101.6) -> (0, 101.6) projected
  line L18 (0, 0) -> (342.9, 0) projected
sketch "Sketch10" plane through (0, 0, 1.5875) normal (0, 0, 1) x (1, 0, 0)
  circle A0 centre (6.35, 95.25) radius 2.0828
  circle A1 centre (6.35, 6.35) radius 2.0828
  circle A2 centre (336.55, 6.35) radius 2.0828
  circle A3 centre (336.55, 95.25) radius 2.0828
  line L0 (342.9, 0) -> (342.9, 101.6) projected
  line L1 (342.9, 101.6) -> (0, 101.6) projected
  line L2 (0, 0) -> (342.9, 0) projected
  line L3 (0, 101.6) -> (0, 0) projected
  dimension "d179" = 4.1656
  dimension "d180" = 6.35
  dimension "d181" = 6.35
  dimension "d182" = 6.35
  dimension "d183" = 6.35
  dimension "d184" = 6.35
  dimension "d185" = 6.35
  dimension "d186" = 6.35
  dimension "d187" = 6.35
extrude "Extrusion8" cut sketch "Sketch10" against normal through all contours A0 | A1 | A2 | A3
thread "Thread1" size "8-32 UNC" class "2B" standard "ANSI Unified Screw Threads" full length
thread "Thread2" size "8-32 UNC" class "2B" standard "ANSI Unified Screw Threads" full length
thread "Thread3" size "8-32 UNC" class "2B" standard "ANSI Unified Screw Threads" full length
thread "Thread4" size "8-32 UNC" class "2B" standard "ANSI Unified Screw Threads" full length
thread "Thread5" size "8-32 UNC" class "2B" standard "ANSI Unified Screw Threads" full length
thread "Thread6" size "8-32 UNC" class "2B" standard "ANSI Unified Screw Threads" full length
thread "Thread7" size "8-32 UNC" class "2B" standard "ANSI Unified Screw Threads" full length
thread "Thread8" size "8-32 UNC" class "2B" standard "ANSI Unified Screw Threads" full length
thread "Thread9" size "8-32 UNC" class "2B" standard "ANSI Unified Screw Threads" full length
thread "Thread10" size "8-32 UNC" class "2B" standard "ANSI Unified Screw Threads" full length
thread "Thread11" size "8-32 UNC" class "2B" standard "ANSI Unified Screw Threads" full length
thread "Thread12" size "8-32 UNC" class "2B" standard "ANSI Unified Screw Threads" full length
thread "Thread13" size "8-32 UNC" class "2B" standard "ANSI Unified Screw Threads" full length
thread "Thread14" size "8-32 UNC" class "2B" standard "ANSI Unified Screw Threads" full length
thread "Thread15" size "8-32 UNC" class "2B" standard "ANSI Unified Screw Threads" full length
thread "Thread16" size "8-32 UNC" class "2B" standard "ANSI Unified Screw Threads" full length
thread "Thread17" size "8-32 UNC" class "2B" standard "ANSI Unified Screw Threads" full length
thread "Thread18" size "8-32 UNC" class "2B" standard "ANSI Unified Screw Threads" full length
thread "Thread19" size "8-32 UNC" class "2B" standard "ANSI Unified Screw Threads" full length
thread "Thread20" size "8-32 UNC" class "2B" standard "ANSI Unified Screw Threads" full length
thread "Thread21" size "8-32 UNC" class "2B" standard "ANSI Unified Screw Threads" full length
thread "Thread22" size "8-32 UNC" class "2B" standard "ANSI Unified Screw Threads" full length
thread "Thread23" size "8-32 UNC" class "2B" standard "ANSI Unified Screw Threads" full length
thread "Thread24" size "8-32 UNC" class "2B" standard "ANSI Unified Screw Threads" full length
sketch "Sketch11" plane through (0, 0, 0) normal (0, 0, -1) x (-1, 0, 0)
  line L0 (-285.4519, 43.4444) -> (-249.3971, 43.4444) construction
  line L1 (-249.3971, 43.4444) -> (-249.3971, 39.7196) construction
  line L2 (-249.3971, 39.7196) -> (-285.4519, 39.7196) construction
  line L3 (-285.4519, 39.7196) -> (-285.4519, 43.4444) construction
  point P0 (0, 0)
equation "\"d8\" = -0.5 * d7 + 0.5 * d5"
equation "\"d9\" = -0.5 * d6 + 0.5 * d4"
equation "\"d15\" = d14"
equation "\"d16\" = d13"
equation "\"d17\" = d16"
equation "\"d18\" = d15"
equation "\"d19\" = d13"
equation "\"d57\" = 0.5 * d54"
equation "\"d59\" = d58"
equation "\"d60\" = d58"
equation "\"d61\" = d60"
equation "\"d67\" = d66"
equation "\"d68\" = d66"
equation "\"d69\" = d66"
equation "\"d101\" = d100"
equation "\"d102\" = d101"
equation "\"d103\" = d100"
equation "\"d109\" = d108"
equation "\"d110\" = d109"
equation "\"d111\" = d108"
equation "\"d128\" = 0.5 * d123"
equation "\"d132\" = 0.5 * d131"
equation "\"d145\" = d144"
equation "\"d146\" = d144"
properties part number "LFEV2017_TSI_006"
